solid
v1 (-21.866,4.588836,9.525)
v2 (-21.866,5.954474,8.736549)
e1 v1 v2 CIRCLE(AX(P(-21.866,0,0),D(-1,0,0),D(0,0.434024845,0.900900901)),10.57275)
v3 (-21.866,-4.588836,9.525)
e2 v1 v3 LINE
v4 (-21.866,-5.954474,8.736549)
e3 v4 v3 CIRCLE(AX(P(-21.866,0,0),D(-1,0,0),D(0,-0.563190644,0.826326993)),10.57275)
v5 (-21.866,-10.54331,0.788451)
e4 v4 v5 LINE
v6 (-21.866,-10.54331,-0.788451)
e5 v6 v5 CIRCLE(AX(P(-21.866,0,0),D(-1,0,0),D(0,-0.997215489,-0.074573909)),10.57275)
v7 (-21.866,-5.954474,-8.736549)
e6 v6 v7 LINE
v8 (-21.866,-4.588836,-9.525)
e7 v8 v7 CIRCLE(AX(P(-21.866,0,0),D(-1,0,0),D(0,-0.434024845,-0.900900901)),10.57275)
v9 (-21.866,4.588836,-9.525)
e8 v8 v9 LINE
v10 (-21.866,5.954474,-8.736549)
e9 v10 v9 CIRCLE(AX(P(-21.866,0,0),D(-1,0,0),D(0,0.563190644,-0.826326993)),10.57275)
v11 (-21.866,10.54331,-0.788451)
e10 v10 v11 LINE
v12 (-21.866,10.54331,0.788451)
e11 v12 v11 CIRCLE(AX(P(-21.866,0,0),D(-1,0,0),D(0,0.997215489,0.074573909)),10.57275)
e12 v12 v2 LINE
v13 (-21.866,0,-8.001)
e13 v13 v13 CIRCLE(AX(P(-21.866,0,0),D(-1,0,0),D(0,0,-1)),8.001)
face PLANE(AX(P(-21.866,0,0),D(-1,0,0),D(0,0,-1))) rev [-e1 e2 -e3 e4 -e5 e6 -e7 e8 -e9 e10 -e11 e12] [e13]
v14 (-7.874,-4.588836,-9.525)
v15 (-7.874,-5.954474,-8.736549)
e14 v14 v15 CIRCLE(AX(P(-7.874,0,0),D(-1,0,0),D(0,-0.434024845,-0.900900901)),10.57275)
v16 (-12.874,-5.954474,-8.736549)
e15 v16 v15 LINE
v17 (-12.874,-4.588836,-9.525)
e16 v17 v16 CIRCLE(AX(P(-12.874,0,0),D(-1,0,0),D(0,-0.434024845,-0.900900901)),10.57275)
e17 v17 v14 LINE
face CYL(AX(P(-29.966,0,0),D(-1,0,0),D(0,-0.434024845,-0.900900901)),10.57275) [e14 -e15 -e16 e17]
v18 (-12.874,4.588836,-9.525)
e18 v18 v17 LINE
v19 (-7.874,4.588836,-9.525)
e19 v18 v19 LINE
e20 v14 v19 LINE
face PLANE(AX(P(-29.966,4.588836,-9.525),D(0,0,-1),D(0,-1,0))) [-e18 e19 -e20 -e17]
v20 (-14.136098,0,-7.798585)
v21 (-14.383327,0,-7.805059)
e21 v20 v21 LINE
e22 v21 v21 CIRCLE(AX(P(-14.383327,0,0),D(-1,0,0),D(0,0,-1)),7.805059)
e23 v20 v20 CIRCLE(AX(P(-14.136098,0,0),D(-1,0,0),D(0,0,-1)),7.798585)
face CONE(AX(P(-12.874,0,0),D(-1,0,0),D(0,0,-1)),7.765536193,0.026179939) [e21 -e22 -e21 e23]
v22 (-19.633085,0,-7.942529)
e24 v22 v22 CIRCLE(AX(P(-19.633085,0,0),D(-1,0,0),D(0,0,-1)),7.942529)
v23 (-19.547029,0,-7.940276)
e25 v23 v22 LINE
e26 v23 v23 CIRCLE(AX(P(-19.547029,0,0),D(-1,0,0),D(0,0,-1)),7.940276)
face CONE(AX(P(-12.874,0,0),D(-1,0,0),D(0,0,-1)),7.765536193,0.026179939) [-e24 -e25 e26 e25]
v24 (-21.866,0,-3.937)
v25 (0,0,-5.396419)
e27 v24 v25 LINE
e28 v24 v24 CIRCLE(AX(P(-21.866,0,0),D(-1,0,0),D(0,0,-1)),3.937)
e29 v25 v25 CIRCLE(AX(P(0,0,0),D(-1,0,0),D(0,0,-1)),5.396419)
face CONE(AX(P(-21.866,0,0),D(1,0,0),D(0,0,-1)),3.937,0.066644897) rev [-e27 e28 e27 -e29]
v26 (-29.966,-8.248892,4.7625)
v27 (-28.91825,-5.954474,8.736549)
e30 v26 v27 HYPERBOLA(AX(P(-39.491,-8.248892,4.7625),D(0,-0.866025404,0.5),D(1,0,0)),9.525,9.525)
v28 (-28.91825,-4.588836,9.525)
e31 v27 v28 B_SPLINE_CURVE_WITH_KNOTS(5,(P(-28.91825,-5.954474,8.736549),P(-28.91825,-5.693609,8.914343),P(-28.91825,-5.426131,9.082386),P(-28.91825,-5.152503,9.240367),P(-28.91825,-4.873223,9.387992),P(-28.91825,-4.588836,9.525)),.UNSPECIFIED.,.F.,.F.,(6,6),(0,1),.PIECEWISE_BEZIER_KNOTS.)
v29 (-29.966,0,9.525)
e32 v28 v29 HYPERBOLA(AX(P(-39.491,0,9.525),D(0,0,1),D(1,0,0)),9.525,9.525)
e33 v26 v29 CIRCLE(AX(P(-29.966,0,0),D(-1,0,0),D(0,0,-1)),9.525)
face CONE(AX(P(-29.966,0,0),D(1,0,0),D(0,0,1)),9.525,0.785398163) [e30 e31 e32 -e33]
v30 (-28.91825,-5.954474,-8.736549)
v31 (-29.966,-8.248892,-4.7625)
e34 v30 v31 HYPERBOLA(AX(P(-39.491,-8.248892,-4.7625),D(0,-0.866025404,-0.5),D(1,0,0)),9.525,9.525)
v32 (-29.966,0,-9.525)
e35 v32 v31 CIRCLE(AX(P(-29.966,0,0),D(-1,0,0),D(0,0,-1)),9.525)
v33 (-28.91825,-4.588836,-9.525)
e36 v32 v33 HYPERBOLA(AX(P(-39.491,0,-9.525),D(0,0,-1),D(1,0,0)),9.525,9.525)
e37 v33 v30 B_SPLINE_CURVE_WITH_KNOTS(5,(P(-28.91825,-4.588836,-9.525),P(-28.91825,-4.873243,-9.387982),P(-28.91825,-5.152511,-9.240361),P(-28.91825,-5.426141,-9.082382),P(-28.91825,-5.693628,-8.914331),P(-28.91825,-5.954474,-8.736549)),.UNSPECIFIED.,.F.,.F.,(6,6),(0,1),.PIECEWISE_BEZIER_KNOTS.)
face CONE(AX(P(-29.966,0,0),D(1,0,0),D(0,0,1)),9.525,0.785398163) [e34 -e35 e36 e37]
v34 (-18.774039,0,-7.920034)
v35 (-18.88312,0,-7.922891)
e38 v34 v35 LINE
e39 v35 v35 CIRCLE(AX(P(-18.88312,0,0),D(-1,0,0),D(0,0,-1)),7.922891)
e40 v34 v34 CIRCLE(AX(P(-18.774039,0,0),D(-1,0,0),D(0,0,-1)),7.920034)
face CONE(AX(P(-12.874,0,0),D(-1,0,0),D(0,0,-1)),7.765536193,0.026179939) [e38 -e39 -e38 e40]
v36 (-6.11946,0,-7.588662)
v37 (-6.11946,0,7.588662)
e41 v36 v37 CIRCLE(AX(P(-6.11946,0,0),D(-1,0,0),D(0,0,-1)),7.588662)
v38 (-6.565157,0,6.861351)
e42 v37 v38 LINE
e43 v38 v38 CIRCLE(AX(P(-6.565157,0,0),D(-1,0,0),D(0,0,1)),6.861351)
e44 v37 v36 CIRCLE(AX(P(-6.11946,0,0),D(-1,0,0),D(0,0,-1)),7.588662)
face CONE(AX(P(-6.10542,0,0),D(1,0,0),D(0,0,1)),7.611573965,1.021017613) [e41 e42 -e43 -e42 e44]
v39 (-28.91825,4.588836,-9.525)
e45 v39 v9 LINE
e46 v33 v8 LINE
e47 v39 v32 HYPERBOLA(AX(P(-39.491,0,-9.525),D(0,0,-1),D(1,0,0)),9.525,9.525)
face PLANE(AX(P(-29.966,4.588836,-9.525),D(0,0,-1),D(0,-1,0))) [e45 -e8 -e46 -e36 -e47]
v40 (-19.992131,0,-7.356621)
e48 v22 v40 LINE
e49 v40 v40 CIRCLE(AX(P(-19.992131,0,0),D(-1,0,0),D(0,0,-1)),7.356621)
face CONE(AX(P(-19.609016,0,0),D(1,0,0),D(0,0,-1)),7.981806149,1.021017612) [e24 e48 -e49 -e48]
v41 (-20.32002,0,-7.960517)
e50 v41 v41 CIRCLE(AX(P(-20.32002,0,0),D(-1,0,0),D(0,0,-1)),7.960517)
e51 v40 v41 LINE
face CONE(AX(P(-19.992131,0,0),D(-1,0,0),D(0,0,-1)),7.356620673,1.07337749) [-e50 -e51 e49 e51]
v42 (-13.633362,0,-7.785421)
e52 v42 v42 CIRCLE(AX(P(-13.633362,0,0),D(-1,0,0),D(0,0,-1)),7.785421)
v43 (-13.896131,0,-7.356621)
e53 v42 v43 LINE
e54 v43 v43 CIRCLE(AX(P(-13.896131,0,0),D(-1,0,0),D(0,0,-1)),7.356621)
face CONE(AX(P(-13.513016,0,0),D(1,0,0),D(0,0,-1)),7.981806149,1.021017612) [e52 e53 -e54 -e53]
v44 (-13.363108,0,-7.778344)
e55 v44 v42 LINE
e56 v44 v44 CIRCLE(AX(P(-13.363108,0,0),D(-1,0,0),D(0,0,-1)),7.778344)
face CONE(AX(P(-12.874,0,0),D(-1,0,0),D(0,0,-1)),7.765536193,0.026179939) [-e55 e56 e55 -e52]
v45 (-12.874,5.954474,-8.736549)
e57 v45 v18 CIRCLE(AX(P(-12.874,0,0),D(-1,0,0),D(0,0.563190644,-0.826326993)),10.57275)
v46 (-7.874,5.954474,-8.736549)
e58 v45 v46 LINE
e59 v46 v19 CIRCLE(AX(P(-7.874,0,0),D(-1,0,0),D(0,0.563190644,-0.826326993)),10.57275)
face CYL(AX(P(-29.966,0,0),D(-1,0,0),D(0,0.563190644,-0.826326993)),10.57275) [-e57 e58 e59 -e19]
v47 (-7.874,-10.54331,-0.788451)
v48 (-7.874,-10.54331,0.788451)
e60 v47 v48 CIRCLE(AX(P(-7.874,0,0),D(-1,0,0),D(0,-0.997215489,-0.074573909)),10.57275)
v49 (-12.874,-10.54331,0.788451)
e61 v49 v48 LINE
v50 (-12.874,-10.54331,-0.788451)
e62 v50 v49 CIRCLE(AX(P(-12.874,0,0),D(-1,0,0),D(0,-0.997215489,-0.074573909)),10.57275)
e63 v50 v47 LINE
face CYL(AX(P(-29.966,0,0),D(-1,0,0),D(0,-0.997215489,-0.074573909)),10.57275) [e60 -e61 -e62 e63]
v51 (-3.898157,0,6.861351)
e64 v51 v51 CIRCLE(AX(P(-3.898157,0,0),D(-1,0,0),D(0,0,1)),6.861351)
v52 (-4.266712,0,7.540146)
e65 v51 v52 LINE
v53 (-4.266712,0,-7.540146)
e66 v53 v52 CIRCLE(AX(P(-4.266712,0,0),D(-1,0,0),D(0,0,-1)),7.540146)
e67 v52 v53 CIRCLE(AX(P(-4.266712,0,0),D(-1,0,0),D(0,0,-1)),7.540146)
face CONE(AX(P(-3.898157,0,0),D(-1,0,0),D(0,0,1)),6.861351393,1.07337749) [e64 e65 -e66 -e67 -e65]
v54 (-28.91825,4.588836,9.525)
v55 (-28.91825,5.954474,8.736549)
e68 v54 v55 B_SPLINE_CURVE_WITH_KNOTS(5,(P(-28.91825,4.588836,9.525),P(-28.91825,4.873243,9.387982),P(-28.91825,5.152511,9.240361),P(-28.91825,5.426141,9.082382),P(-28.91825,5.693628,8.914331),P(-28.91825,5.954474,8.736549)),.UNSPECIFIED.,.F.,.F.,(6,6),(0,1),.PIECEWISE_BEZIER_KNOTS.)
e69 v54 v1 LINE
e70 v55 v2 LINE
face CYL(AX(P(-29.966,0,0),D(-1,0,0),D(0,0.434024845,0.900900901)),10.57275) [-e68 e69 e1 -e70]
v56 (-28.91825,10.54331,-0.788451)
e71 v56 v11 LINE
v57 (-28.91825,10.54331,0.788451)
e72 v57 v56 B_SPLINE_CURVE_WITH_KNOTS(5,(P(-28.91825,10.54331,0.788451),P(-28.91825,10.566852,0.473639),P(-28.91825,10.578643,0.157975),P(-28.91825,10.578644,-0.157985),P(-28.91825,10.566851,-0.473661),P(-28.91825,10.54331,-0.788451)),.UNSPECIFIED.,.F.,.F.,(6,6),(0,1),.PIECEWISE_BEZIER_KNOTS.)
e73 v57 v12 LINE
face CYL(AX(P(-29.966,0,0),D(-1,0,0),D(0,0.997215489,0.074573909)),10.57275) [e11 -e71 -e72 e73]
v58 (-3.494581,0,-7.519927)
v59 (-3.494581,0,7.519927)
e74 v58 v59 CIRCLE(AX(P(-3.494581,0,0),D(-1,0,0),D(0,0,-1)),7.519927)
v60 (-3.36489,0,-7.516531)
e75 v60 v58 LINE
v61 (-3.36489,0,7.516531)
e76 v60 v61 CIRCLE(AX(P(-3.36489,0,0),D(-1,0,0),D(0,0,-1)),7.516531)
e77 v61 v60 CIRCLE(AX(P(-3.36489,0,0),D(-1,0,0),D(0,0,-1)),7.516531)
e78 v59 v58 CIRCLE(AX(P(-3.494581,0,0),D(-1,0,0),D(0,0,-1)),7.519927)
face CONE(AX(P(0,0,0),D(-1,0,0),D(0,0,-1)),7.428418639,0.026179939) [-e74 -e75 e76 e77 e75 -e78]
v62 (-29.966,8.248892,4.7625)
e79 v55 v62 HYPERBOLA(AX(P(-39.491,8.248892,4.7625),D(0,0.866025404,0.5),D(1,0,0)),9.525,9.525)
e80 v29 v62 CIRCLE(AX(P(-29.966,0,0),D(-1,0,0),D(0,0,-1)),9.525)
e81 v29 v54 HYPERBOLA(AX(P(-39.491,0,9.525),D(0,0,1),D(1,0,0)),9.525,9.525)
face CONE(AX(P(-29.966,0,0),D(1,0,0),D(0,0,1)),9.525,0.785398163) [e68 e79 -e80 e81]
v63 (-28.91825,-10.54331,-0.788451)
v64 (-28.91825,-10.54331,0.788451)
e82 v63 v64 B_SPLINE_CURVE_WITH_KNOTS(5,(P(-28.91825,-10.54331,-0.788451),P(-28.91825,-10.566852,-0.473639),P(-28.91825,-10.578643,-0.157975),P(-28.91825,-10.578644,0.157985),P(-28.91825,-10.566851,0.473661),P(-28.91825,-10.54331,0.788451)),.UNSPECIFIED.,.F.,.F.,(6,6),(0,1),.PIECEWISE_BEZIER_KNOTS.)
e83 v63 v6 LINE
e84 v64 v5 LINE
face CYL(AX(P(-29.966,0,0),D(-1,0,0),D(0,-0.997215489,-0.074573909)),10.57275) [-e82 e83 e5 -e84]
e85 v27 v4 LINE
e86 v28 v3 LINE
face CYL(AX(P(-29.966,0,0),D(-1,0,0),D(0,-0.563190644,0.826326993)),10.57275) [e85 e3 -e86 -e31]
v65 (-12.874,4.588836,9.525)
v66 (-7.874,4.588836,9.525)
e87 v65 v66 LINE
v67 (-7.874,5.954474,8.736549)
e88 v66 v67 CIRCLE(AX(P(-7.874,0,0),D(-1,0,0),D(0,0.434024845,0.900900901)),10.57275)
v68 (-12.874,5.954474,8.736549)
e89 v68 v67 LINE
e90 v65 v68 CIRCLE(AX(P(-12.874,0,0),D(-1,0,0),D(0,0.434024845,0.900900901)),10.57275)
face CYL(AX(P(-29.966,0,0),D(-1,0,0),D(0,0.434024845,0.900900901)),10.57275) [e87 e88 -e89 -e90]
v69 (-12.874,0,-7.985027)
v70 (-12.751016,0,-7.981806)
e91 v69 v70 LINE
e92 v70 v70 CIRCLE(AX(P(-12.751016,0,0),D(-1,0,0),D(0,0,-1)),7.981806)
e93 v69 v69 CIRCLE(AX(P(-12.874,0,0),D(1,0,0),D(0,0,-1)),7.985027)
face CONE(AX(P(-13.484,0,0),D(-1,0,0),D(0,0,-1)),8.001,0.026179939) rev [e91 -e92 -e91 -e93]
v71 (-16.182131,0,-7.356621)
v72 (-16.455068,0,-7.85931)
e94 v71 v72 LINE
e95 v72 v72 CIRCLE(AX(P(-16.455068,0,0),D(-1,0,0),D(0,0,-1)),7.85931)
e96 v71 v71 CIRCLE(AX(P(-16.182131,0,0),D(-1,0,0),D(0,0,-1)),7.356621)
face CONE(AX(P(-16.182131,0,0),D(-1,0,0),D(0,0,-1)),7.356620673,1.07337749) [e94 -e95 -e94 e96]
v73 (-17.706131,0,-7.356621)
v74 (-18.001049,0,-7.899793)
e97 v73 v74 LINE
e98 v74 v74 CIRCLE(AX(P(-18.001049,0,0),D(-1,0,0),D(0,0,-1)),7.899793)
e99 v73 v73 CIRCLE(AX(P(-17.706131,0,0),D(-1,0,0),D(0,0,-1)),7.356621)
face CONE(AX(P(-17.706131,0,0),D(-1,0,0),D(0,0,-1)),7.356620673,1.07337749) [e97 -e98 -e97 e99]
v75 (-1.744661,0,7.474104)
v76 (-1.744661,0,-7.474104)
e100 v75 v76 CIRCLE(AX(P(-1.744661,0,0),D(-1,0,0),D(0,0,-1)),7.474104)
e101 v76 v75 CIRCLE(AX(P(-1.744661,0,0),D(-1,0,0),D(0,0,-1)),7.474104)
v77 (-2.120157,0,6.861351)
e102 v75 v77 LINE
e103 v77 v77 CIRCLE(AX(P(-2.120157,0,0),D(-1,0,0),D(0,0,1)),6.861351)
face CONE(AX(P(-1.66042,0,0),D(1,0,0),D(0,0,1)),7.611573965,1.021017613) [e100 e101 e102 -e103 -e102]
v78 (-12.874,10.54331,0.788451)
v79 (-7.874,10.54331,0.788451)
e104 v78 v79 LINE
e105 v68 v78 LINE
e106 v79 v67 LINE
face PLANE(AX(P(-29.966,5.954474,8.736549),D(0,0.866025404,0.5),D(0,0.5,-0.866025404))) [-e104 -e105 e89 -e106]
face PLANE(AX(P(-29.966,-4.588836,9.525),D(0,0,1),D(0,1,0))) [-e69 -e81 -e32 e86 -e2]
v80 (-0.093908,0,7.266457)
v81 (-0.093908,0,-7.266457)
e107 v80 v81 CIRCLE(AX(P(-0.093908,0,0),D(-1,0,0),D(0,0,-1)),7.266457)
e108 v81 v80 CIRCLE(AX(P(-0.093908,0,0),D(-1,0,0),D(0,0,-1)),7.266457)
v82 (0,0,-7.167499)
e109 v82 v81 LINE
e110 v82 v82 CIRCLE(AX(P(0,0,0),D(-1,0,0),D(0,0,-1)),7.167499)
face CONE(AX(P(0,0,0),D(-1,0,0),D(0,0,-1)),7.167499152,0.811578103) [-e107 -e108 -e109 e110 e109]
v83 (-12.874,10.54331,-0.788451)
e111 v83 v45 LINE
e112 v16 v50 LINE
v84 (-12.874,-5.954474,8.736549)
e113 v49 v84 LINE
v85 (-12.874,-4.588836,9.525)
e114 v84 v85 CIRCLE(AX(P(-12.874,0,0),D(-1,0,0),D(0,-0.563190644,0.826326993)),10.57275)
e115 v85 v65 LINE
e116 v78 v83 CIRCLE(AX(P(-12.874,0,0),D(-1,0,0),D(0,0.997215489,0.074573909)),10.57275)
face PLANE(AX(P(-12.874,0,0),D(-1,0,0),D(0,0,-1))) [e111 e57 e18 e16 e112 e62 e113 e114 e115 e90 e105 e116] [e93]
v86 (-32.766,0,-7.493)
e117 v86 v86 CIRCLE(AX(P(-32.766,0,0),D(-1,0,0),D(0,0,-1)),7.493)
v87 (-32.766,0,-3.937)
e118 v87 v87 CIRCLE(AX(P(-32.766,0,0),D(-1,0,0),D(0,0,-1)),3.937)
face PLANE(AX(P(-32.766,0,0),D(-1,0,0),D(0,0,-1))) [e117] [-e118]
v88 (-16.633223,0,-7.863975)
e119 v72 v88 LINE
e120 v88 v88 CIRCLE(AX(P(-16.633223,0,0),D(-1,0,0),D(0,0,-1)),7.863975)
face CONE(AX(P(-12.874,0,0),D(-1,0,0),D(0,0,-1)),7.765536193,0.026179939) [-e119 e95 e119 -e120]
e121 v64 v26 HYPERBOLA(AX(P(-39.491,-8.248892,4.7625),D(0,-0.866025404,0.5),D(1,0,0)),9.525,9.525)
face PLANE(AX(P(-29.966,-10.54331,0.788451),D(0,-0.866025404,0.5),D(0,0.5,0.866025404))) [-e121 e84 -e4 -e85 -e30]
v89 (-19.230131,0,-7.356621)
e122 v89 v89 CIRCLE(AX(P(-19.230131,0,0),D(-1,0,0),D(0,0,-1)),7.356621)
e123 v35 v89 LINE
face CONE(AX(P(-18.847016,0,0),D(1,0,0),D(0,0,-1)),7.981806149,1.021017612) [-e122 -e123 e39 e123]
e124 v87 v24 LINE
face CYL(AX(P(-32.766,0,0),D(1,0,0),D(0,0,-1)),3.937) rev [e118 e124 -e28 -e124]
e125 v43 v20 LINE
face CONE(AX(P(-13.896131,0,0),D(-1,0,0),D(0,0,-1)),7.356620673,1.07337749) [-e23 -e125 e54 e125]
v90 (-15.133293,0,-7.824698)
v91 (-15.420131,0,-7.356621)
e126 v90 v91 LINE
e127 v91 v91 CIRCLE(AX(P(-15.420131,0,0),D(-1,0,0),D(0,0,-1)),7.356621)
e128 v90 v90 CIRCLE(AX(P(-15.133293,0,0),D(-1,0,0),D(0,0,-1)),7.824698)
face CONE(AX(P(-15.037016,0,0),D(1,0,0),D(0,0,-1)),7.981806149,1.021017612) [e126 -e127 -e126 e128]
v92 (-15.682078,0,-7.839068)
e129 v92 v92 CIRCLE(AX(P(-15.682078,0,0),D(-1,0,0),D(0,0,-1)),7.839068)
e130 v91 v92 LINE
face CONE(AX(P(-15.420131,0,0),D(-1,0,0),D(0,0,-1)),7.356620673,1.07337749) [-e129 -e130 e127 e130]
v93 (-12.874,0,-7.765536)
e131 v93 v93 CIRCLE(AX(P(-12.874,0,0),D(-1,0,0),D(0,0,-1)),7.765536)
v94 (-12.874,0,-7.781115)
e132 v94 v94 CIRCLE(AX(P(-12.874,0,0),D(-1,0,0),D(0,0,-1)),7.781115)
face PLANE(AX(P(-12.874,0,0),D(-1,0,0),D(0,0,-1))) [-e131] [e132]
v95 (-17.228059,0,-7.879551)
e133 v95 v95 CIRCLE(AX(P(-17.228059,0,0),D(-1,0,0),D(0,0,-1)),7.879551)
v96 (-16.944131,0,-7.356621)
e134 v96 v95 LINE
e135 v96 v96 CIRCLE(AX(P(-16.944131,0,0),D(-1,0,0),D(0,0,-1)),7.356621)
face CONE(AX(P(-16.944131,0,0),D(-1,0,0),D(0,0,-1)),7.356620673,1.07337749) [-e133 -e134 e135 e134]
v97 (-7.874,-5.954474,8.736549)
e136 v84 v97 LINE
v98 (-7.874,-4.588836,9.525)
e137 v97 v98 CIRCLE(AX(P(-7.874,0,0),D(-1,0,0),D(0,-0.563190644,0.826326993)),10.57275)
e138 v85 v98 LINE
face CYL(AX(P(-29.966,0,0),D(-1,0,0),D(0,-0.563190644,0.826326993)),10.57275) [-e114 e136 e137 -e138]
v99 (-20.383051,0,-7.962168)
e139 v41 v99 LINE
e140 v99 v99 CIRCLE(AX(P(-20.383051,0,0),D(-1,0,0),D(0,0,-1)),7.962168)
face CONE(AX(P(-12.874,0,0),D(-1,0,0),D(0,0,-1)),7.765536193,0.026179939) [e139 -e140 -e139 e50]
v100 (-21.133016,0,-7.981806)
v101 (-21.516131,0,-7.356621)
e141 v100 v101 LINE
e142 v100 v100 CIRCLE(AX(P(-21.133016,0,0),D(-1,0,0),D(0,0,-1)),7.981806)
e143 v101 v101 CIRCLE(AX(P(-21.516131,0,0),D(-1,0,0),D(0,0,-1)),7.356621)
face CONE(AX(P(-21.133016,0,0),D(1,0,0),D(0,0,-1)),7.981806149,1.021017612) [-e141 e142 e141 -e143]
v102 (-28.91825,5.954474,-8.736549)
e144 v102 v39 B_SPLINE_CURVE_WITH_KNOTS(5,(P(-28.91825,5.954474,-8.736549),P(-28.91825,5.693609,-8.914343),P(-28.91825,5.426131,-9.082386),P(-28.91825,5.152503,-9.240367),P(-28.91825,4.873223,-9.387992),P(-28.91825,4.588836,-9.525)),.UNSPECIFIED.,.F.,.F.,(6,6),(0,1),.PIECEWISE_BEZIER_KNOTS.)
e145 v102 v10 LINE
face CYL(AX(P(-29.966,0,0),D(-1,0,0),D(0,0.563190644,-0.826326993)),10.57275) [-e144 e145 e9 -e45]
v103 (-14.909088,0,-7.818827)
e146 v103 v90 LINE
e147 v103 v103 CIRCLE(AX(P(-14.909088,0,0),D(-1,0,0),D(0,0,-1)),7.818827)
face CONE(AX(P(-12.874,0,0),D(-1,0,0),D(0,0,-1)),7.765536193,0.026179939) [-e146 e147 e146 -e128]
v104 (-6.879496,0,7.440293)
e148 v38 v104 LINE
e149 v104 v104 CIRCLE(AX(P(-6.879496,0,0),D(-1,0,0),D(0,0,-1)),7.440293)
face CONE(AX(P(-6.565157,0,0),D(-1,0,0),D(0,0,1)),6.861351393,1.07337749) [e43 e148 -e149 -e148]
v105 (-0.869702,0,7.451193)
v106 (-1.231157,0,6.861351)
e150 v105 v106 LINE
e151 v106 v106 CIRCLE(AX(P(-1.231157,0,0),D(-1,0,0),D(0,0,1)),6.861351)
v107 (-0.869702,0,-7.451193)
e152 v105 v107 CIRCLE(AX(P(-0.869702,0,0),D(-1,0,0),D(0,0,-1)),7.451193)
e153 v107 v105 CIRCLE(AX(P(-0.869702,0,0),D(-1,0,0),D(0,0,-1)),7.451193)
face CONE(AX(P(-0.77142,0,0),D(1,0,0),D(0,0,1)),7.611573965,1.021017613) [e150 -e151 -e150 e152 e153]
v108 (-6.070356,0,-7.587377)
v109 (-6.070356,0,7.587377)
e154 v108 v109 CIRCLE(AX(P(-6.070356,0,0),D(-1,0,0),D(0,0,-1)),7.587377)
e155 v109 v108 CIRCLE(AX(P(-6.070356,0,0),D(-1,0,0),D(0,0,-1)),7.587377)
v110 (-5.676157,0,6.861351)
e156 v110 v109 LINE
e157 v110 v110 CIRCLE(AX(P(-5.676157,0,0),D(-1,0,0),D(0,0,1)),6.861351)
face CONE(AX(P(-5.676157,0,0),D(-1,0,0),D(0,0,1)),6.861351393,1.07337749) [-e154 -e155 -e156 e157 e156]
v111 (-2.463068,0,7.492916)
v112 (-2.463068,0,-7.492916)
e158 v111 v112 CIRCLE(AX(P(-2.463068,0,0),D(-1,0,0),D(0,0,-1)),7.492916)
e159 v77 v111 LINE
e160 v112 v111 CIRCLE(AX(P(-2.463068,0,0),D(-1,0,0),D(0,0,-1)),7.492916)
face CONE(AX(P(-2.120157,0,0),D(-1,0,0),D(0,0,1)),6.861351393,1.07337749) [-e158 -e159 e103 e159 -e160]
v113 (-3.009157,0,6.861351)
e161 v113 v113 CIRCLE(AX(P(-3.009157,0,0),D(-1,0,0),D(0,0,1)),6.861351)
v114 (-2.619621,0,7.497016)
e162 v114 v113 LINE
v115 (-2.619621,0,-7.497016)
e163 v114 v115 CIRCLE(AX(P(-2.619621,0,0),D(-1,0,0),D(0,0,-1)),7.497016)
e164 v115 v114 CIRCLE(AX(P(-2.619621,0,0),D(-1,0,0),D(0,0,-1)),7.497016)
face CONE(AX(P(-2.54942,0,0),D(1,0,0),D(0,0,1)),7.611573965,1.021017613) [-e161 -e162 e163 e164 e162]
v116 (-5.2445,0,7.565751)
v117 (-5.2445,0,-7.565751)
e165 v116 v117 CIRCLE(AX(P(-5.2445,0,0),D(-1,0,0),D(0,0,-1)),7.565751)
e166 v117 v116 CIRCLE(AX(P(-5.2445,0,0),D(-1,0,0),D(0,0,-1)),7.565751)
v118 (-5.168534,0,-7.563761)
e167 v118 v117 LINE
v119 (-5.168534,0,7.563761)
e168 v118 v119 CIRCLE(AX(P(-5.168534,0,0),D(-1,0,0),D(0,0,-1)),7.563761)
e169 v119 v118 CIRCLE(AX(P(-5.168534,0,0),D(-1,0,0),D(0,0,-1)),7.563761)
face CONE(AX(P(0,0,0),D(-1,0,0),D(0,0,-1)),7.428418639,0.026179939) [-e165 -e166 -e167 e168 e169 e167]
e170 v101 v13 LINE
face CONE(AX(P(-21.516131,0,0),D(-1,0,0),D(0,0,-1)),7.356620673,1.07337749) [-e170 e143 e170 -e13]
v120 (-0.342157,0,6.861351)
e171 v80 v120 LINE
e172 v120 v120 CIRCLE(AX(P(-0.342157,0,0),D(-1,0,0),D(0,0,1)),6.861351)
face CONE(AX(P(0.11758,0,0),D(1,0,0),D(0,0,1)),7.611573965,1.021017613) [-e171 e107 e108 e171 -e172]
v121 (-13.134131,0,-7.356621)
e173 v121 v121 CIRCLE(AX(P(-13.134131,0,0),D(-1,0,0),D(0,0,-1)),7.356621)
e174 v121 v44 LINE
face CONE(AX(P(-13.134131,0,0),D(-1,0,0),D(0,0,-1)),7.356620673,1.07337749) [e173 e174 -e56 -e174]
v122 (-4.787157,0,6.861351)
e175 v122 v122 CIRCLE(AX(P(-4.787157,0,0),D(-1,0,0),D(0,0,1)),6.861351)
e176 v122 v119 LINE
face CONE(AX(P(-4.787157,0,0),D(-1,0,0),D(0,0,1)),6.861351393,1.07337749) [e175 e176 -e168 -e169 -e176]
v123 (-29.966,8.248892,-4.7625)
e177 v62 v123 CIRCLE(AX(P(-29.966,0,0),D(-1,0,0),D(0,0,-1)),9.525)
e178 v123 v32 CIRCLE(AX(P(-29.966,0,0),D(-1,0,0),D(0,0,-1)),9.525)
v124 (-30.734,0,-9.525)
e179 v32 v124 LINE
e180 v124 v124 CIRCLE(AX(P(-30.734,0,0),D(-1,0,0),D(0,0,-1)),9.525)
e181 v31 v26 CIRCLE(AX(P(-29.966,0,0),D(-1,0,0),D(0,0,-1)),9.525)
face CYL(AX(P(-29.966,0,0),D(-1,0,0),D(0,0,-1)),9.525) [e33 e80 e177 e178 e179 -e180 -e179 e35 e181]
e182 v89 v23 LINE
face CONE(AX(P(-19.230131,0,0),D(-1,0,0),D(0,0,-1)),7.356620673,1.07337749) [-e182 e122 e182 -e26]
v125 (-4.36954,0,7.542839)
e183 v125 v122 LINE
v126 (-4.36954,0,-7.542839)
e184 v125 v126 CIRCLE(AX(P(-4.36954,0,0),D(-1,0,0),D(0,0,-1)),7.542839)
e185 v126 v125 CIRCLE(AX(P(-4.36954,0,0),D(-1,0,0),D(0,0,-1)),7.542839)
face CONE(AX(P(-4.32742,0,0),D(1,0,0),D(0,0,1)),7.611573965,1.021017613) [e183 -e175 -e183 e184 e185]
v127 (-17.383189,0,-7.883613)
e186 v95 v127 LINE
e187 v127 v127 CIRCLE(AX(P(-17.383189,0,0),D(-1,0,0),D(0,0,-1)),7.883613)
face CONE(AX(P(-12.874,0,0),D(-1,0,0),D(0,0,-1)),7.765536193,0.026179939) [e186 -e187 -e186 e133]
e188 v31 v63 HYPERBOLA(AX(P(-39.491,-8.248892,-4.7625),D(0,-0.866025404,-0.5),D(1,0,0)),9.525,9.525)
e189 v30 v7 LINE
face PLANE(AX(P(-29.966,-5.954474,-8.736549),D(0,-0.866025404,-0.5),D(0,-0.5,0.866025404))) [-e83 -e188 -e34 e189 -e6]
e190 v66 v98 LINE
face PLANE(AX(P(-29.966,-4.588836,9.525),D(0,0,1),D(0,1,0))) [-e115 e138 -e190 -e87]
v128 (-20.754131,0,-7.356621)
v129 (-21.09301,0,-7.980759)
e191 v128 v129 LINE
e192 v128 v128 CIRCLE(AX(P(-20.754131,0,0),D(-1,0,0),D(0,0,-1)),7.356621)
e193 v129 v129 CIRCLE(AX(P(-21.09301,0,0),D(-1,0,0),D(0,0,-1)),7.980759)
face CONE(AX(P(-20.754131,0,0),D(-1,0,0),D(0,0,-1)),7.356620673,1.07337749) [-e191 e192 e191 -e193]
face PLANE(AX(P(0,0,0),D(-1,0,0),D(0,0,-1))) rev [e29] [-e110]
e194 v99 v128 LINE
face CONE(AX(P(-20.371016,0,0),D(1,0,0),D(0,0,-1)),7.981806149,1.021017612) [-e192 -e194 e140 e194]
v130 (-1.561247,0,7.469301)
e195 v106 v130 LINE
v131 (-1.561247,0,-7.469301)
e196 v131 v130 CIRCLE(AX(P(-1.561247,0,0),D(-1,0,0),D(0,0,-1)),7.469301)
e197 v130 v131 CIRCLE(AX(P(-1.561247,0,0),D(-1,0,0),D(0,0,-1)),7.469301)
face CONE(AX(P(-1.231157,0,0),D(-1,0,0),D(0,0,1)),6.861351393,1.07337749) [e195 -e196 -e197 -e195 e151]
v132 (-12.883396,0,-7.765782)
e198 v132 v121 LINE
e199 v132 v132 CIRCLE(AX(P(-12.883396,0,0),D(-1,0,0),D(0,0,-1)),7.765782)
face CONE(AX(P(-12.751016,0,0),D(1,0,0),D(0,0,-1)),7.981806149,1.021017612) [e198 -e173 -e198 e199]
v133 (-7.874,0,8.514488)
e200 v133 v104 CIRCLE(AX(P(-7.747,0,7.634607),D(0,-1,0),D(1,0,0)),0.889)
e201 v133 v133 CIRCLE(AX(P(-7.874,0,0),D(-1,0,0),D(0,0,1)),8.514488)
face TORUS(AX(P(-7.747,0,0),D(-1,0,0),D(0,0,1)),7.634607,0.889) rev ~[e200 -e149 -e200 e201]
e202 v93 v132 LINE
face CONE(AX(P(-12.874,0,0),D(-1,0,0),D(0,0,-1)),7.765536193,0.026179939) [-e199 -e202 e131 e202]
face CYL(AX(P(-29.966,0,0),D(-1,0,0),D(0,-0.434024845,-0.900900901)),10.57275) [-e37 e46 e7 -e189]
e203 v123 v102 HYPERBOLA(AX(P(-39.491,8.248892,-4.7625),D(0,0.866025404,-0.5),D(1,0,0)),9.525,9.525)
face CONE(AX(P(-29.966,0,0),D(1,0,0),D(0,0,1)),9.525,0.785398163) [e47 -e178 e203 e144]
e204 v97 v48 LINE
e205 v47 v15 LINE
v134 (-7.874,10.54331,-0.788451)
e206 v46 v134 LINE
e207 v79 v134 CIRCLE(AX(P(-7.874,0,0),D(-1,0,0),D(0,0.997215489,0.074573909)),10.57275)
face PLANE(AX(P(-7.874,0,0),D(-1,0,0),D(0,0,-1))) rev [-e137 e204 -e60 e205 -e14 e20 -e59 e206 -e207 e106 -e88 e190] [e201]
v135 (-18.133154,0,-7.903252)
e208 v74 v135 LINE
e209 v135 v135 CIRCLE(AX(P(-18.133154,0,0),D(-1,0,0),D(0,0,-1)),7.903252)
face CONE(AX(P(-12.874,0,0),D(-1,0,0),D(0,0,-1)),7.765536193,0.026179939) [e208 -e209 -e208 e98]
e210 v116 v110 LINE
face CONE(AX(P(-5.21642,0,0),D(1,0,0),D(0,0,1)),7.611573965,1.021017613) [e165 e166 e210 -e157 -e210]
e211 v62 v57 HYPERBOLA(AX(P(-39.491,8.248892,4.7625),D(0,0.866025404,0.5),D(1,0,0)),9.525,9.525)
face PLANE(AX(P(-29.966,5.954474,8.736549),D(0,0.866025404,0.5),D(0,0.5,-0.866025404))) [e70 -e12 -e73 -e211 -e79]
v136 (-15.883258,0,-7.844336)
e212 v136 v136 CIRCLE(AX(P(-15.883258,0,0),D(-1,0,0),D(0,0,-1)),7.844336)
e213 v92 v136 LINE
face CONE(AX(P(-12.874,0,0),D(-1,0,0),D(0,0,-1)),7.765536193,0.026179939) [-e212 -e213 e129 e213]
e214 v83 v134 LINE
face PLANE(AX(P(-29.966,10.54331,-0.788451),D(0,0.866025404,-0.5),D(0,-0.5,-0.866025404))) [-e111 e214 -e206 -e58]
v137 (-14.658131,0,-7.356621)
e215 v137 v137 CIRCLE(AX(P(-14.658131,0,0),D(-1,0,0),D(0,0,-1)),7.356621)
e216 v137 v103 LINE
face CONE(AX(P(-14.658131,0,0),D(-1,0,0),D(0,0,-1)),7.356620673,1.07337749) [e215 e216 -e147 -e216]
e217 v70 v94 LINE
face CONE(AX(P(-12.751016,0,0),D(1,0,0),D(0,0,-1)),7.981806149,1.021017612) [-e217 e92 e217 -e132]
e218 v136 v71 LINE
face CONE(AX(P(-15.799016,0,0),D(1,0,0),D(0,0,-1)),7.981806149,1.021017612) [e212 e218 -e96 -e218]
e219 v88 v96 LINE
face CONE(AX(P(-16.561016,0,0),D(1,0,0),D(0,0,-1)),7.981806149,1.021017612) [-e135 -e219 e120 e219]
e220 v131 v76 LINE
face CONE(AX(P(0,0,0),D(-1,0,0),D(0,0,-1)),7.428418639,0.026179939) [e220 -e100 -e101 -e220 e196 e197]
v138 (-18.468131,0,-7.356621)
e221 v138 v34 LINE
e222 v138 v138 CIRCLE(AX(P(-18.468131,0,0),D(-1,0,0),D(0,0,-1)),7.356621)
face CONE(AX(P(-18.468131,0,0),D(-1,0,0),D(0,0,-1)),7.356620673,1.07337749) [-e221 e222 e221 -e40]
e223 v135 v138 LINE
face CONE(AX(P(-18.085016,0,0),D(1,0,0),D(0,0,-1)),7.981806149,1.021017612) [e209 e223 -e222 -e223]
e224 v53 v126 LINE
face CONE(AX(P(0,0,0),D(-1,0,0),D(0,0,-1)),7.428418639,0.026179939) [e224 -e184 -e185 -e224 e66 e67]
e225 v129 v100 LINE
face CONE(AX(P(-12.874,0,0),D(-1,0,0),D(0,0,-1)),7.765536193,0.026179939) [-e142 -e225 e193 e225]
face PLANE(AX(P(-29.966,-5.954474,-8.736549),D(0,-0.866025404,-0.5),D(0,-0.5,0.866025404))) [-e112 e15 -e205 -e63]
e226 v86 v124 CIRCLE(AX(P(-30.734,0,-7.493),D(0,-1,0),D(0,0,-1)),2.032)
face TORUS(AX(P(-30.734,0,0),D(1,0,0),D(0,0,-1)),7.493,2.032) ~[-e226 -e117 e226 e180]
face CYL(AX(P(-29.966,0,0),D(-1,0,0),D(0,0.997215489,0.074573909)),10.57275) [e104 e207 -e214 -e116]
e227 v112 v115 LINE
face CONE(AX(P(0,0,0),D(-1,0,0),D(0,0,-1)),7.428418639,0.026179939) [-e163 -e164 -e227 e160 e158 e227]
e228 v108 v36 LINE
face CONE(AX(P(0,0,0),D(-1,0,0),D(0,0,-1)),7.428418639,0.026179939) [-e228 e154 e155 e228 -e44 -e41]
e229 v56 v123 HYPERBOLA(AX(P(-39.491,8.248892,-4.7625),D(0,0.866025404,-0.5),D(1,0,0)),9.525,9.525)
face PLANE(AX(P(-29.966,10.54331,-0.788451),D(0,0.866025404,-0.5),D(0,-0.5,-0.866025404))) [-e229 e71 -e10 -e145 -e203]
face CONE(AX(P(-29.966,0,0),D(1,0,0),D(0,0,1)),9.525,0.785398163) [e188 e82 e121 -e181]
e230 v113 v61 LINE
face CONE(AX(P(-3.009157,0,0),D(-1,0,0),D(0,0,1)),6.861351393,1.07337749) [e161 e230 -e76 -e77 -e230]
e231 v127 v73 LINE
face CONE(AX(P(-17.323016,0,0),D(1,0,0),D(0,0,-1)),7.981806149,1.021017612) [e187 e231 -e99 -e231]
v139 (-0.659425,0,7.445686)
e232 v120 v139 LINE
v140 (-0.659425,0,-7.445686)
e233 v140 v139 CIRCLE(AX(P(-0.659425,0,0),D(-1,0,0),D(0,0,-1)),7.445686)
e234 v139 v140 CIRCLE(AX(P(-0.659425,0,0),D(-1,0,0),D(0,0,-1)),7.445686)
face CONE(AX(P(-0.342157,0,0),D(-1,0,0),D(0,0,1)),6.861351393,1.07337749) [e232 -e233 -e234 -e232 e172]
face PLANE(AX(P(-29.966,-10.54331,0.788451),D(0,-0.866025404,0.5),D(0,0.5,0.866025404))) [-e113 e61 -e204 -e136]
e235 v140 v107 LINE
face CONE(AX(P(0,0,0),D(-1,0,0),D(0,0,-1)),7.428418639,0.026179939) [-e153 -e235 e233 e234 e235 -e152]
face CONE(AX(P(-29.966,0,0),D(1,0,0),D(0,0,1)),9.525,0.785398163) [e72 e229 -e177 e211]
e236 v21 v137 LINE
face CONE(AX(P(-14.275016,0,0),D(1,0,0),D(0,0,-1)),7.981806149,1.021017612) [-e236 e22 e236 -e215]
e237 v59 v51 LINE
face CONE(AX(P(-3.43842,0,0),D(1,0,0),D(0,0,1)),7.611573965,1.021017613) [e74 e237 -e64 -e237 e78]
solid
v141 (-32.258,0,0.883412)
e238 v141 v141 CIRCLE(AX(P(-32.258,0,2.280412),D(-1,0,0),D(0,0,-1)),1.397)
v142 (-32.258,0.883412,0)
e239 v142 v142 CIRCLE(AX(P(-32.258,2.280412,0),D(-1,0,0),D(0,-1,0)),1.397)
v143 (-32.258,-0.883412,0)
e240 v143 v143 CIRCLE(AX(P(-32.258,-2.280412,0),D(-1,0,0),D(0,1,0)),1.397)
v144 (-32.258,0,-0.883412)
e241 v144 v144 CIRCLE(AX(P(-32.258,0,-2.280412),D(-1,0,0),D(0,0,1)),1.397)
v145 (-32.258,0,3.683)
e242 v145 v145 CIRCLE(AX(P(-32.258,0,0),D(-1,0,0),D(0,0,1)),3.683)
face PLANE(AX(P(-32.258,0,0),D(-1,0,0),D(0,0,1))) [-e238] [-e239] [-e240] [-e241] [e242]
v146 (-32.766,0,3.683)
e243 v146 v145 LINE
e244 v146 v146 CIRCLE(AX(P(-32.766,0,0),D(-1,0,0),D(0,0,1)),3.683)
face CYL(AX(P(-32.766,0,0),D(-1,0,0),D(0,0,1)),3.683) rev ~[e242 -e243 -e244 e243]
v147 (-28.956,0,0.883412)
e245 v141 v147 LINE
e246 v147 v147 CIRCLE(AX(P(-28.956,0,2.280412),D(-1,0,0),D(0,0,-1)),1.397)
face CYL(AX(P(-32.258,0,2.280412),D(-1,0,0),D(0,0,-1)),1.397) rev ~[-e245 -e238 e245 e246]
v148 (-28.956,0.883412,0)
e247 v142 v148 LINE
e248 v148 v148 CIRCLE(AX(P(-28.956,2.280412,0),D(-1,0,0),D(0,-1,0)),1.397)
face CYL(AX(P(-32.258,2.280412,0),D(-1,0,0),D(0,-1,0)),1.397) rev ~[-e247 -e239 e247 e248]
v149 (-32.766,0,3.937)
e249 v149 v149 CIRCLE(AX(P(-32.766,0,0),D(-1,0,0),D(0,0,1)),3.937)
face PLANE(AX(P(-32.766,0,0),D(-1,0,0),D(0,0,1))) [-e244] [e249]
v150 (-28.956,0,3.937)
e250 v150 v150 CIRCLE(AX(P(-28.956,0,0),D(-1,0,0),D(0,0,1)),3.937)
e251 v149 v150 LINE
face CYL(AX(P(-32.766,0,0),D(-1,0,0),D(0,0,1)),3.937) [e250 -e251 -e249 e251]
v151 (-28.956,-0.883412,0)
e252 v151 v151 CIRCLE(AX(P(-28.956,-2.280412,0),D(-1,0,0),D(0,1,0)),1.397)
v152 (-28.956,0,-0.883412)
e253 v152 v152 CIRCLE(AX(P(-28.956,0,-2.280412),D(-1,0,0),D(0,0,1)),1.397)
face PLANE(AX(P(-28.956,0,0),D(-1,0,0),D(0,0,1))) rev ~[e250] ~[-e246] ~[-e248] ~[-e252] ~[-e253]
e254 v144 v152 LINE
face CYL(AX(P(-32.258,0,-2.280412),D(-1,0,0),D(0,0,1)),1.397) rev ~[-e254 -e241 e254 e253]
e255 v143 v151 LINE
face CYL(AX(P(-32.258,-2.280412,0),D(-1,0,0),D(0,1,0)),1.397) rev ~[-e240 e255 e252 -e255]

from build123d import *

# Parameters (mm, degrees)
SKETCH12_OUTSIDE_W = 52.712
SKETCH12_OUTSIDE_H = 52.712
CUT_EXTRUDE2_DEPTH = 30.966
FILLET4_R          = 2.032
SKETCH19_OUTSIDE_W = 33.73
SKETCH19_OUTSIDE_H = 35.826
SKETCH19_OUTSIDE_R = 9.525
CUT_EXTRUDE3_DEPTH = 1.999996
CUT_EXTRUDE3_DRAFT = -45
CHAMFER1_SIZE      = 0.260919487
CHAMFER1_SIZE2     = 0.254
SKETCH21_R         = 3.937
PLUG_DEPTH         = 3.81
SKETCH22_R         = 3.683
CUT_EXTRUDE4_DEPTH = 0.508
SKETCH27_R         = 1.397
PLUGHOLES_DEPTH    = 33.258
CIRPATTERN1_COUNT  = 4
LPATTERN1_COUNT    = 12
LPATTERN1_PITCH    = 0.762
LPATTERN2_COUNT    = 9
LPATTERN2_PITCH    = 0.889
SKETCH32_R         = 0.889


with BuildPart() as part:
    # Sketch10 → Revolve2 (revolve)
    with BuildSketch(Plane.XY, mode=Mode.PRIVATE) as revolve2_sk:
        Polygon((-32.766, 3.937), (-21.866, 3.937), (0, 5.396418639), (0, 7.428418639), (-7.874, 7.634606585), (-7.874, 19.05), (-12.874, 19.05), (-12.874, 7.765536193), (-21.866, 8.001), (-21.866, 19.05), (-29.966, 19.05), (-29.966, 9.525), (-32.766, 9.525), align=None)
    revolve(revolve2_sk.sketch.rotate(Axis((0, 0, 0), (-1, 0, 0)), 90), axis=Axis((0, 0, 0), (-1, 0, 0)))  # turned: the seam where the file's is

    # Sketch12 outside → Cut-Extrude2 (cut, through all)
    with BuildSketch(Plane.ZY.offset(29.966)):
        Rectangle(SKETCH12_OUTSIDE_W, SKETCH12_OUTSIDE_H)
        with BuildLine():
            Line((-0.788451287, 10.543310065), (-8.736548713, 5.954473877))
            ThreePointArc((-8.736548713, 5.954473877), (-9.156270088, 5.286375), (-9.525, 4.588836188))
            Line((-9.525, 4.588836188), (-9.525, -4.588836188))
            ThreePointArc((-9.525, -4.588836188), (-9.156270088, -5.286375), (-8.736548713, -5.954473877))
            Line((-8.736548713, -5.954473877), (-0.788451287, -10.543310065))
            ThreePointArc((-0.788451287, -10.543310065), (0, -10.57275), (0.788451287, -10.543310065))
            Line((0.788451287, -10.543310065), (8.736548713, -5.954473877))
            ThreePointArc((8.736548713, -5.954473877), (9.156270088, -5.286375), (9.525, -4.588836188))
            Line((9.525, -4.588836188), (9.525, 4.588836188))
            ThreePointArc((9.525, 4.588836188), (9.156270088, 5.286375), (8.736548713, 5.954473877))
            Line((8.736548713, 5.954473877), (0.788451287, 10.543310065))
            ThreePointArc((0.788451287, 10.543310065), (0, 10.57275), (-0.788451287, 10.543310065))
        make_face(mode=Mode.SUBTRACT)
    extrude(amount=-CUT_EXTRUDE2_DEPTH, mode=Mode.SUBTRACT)

    # Fillet4
    fillet4_edges = [part.edges().sort_by_distance(p)[0] for p in [
        (-32.766, 0, 9.525),
    ]]
    fillet(fillet4_edges, radius=FILLET4_R)


with BuildPart() as cut_extrude3_tool:
    # Sketch19 outside → Cut-Extrude3 (with draft: the straight prism first)
    with BuildSketch(Plane.ZY.offset(29.966)):
        Rectangle(SKETCH19_OUTSIDE_W, SKETCH19_OUTSIDE_H)
        Circle(SKETCH19_OUTSIDE_R, mode=Mode.SUBTRACT)
    extrude(amount=-CUT_EXTRUDE3_DEPTH)
    # Cut-Extrude3: the draft: its side faces are tilted about the plane it starts from
    cut_extrude3_sides = [cut_extrude3_tool.faces().sort_by_distance(p)[0] for p in [
        (-28.966002, -17.913, 0),
        (-28.966002, 0, 16.865),
        (-28.966002, 17.913, 0),
        (-28.966002, 0, -16.865),
        (-28.966002, 0, -9.525),
    ]]
    draft(cut_extrude3_sides, Plane.ZY.offset(29.966), CUT_EXTRUDE3_DRAFT)


with BuildPart() as part_1:
    add(part.part)

    # Cut-Extrude3: cut by cut_extrude3_tool
    add(cut_extrude3_tool.part, mode=Mode.SUBTRACT)

    # Chamfer1
    chamfer1_edges = [part_1.edges().sort_by_distance(p)[0] for p in [
        (0, 0, 7.428418639),
    ]]
    chamfer1_side = [part_1.faces().sort_by_distance(p)[0] for p in [
        (0, 0, 5.606526047),
    ]]
    chamfer(chamfer1_edges, length=CHAMFER1_SIZE, length2=CHAMFER1_SIZE2, reference=chamfer1_side[0])

    # Sketch29 → Cut-Revolve1 (revolve, cut)
    with BuildSketch(Plane.XY, mode=Mode.PRIVATE) as cut_revolve1_sk:
        Polygon((-21.866, 8.001), (-21.133016419, 7.981806149), (-21.516130572, 7.356620673), align=None)
    cut_revolve1 = revolve(cut_revolve1_sk.sketch.rotate(Axis((0, 0, 0), (-1, 0, 0)), 90), axis=Axis((0, 0, 0), (-1, 0, 0)), mode=Mode.SUBTRACT)  # turned: the seam where the file's is

    # LPattern1: Cut-Revolve1 ×12
    with Locations(*[(i * LPATTERN1_PITCH, 0, 0) for i in range(1, LPATTERN1_COUNT)]):
        add(cut_revolve1, mode=Mode.SUBTRACT)

    # Sketch30 → Cut-Revolve2 (revolve, cut)
    with BuildSketch(Plane.XY, mode=Mode.PRIVATE) as cut_revolve2_sk:
        Polygon((-7.874, 7.634606585), (-6.994419703, 7.611573965), (-7.454156686, 6.861351393), align=None)
    cut_revolve2 = revolve(cut_revolve2_sk.sketch.rotate(Axis((0, 0, 0), (-1, 0, 0)), 270), axis=Axis((0, 0, 0), (-1, 0, 0)), mode=Mode.SUBTRACT)  # turned: the seam where the file's is

    # LPattern2: Cut-Revolve2 ×9
    with Locations(*[(i * LPATTERN2_PITCH, 0, 0) for i in range(1, LPATTERN2_COUNT)]):
        add(cut_revolve2, mode=Mode.SUBTRACT)

    # Sketch32 → Cut-Revolve3 (revolve, cut)
    with BuildSketch(Plane.XY, mode=Mode.PRIVATE) as cut_revolve3_sk:
        with Locations((-7.747, 7.634606585)):
            Circle(SKETCH32_R)
    revolve(cut_revolve3_sk.sketch.rotate(Axis((0, 0, 0), (-1, 0, 0)), 270), axis=Axis((0, 0, 0), (-1, 0, 0)), mode=Mode.SUBTRACT)  # turned: the seam where the file's is


with BuildPart() as body_2:
    # Sketch21 → plug (new body)
    with BuildSketch(Plane.ZY.offset(32.766)):
        Circle(SKETCH21_R)
    extrude(amount=-PLUG_DEPTH)

    # Sketch22 → Cut-Extrude4 (cut)
    with BuildSketch(Plane.ZY.offset(32.766)):
        Circle(SKETCH22_R)
    extrude(amount=-CUT_EXTRUDE4_DEPTH, mode=Mode.SUBTRACT)

    # Sketch27 → plugholes (cut, through all)
    with BuildSketch(Plane.ZY.offset(32.258)):
        with Locations((-2.280412, 0)):
            Circle(SKETCH27_R)
    plugholes = extrude(amount=-PLUGHOLES_DEPTH, mode=Mode.SUBTRACT)

    # CirPattern1: plugholes ×4 about axis
    cirpattern1_axis = Axis((0, 0, 0), (1, 0, 0))
    for i in range(1, CIRPATTERN1_COUNT):
        add(plugholes.rotate(cirpattern1_axis, i * 360 / CIRPATTERN1_COUNT), mode=Mode.SUBTRACT)


solid = Compound([part_1.part, body_2.part])
